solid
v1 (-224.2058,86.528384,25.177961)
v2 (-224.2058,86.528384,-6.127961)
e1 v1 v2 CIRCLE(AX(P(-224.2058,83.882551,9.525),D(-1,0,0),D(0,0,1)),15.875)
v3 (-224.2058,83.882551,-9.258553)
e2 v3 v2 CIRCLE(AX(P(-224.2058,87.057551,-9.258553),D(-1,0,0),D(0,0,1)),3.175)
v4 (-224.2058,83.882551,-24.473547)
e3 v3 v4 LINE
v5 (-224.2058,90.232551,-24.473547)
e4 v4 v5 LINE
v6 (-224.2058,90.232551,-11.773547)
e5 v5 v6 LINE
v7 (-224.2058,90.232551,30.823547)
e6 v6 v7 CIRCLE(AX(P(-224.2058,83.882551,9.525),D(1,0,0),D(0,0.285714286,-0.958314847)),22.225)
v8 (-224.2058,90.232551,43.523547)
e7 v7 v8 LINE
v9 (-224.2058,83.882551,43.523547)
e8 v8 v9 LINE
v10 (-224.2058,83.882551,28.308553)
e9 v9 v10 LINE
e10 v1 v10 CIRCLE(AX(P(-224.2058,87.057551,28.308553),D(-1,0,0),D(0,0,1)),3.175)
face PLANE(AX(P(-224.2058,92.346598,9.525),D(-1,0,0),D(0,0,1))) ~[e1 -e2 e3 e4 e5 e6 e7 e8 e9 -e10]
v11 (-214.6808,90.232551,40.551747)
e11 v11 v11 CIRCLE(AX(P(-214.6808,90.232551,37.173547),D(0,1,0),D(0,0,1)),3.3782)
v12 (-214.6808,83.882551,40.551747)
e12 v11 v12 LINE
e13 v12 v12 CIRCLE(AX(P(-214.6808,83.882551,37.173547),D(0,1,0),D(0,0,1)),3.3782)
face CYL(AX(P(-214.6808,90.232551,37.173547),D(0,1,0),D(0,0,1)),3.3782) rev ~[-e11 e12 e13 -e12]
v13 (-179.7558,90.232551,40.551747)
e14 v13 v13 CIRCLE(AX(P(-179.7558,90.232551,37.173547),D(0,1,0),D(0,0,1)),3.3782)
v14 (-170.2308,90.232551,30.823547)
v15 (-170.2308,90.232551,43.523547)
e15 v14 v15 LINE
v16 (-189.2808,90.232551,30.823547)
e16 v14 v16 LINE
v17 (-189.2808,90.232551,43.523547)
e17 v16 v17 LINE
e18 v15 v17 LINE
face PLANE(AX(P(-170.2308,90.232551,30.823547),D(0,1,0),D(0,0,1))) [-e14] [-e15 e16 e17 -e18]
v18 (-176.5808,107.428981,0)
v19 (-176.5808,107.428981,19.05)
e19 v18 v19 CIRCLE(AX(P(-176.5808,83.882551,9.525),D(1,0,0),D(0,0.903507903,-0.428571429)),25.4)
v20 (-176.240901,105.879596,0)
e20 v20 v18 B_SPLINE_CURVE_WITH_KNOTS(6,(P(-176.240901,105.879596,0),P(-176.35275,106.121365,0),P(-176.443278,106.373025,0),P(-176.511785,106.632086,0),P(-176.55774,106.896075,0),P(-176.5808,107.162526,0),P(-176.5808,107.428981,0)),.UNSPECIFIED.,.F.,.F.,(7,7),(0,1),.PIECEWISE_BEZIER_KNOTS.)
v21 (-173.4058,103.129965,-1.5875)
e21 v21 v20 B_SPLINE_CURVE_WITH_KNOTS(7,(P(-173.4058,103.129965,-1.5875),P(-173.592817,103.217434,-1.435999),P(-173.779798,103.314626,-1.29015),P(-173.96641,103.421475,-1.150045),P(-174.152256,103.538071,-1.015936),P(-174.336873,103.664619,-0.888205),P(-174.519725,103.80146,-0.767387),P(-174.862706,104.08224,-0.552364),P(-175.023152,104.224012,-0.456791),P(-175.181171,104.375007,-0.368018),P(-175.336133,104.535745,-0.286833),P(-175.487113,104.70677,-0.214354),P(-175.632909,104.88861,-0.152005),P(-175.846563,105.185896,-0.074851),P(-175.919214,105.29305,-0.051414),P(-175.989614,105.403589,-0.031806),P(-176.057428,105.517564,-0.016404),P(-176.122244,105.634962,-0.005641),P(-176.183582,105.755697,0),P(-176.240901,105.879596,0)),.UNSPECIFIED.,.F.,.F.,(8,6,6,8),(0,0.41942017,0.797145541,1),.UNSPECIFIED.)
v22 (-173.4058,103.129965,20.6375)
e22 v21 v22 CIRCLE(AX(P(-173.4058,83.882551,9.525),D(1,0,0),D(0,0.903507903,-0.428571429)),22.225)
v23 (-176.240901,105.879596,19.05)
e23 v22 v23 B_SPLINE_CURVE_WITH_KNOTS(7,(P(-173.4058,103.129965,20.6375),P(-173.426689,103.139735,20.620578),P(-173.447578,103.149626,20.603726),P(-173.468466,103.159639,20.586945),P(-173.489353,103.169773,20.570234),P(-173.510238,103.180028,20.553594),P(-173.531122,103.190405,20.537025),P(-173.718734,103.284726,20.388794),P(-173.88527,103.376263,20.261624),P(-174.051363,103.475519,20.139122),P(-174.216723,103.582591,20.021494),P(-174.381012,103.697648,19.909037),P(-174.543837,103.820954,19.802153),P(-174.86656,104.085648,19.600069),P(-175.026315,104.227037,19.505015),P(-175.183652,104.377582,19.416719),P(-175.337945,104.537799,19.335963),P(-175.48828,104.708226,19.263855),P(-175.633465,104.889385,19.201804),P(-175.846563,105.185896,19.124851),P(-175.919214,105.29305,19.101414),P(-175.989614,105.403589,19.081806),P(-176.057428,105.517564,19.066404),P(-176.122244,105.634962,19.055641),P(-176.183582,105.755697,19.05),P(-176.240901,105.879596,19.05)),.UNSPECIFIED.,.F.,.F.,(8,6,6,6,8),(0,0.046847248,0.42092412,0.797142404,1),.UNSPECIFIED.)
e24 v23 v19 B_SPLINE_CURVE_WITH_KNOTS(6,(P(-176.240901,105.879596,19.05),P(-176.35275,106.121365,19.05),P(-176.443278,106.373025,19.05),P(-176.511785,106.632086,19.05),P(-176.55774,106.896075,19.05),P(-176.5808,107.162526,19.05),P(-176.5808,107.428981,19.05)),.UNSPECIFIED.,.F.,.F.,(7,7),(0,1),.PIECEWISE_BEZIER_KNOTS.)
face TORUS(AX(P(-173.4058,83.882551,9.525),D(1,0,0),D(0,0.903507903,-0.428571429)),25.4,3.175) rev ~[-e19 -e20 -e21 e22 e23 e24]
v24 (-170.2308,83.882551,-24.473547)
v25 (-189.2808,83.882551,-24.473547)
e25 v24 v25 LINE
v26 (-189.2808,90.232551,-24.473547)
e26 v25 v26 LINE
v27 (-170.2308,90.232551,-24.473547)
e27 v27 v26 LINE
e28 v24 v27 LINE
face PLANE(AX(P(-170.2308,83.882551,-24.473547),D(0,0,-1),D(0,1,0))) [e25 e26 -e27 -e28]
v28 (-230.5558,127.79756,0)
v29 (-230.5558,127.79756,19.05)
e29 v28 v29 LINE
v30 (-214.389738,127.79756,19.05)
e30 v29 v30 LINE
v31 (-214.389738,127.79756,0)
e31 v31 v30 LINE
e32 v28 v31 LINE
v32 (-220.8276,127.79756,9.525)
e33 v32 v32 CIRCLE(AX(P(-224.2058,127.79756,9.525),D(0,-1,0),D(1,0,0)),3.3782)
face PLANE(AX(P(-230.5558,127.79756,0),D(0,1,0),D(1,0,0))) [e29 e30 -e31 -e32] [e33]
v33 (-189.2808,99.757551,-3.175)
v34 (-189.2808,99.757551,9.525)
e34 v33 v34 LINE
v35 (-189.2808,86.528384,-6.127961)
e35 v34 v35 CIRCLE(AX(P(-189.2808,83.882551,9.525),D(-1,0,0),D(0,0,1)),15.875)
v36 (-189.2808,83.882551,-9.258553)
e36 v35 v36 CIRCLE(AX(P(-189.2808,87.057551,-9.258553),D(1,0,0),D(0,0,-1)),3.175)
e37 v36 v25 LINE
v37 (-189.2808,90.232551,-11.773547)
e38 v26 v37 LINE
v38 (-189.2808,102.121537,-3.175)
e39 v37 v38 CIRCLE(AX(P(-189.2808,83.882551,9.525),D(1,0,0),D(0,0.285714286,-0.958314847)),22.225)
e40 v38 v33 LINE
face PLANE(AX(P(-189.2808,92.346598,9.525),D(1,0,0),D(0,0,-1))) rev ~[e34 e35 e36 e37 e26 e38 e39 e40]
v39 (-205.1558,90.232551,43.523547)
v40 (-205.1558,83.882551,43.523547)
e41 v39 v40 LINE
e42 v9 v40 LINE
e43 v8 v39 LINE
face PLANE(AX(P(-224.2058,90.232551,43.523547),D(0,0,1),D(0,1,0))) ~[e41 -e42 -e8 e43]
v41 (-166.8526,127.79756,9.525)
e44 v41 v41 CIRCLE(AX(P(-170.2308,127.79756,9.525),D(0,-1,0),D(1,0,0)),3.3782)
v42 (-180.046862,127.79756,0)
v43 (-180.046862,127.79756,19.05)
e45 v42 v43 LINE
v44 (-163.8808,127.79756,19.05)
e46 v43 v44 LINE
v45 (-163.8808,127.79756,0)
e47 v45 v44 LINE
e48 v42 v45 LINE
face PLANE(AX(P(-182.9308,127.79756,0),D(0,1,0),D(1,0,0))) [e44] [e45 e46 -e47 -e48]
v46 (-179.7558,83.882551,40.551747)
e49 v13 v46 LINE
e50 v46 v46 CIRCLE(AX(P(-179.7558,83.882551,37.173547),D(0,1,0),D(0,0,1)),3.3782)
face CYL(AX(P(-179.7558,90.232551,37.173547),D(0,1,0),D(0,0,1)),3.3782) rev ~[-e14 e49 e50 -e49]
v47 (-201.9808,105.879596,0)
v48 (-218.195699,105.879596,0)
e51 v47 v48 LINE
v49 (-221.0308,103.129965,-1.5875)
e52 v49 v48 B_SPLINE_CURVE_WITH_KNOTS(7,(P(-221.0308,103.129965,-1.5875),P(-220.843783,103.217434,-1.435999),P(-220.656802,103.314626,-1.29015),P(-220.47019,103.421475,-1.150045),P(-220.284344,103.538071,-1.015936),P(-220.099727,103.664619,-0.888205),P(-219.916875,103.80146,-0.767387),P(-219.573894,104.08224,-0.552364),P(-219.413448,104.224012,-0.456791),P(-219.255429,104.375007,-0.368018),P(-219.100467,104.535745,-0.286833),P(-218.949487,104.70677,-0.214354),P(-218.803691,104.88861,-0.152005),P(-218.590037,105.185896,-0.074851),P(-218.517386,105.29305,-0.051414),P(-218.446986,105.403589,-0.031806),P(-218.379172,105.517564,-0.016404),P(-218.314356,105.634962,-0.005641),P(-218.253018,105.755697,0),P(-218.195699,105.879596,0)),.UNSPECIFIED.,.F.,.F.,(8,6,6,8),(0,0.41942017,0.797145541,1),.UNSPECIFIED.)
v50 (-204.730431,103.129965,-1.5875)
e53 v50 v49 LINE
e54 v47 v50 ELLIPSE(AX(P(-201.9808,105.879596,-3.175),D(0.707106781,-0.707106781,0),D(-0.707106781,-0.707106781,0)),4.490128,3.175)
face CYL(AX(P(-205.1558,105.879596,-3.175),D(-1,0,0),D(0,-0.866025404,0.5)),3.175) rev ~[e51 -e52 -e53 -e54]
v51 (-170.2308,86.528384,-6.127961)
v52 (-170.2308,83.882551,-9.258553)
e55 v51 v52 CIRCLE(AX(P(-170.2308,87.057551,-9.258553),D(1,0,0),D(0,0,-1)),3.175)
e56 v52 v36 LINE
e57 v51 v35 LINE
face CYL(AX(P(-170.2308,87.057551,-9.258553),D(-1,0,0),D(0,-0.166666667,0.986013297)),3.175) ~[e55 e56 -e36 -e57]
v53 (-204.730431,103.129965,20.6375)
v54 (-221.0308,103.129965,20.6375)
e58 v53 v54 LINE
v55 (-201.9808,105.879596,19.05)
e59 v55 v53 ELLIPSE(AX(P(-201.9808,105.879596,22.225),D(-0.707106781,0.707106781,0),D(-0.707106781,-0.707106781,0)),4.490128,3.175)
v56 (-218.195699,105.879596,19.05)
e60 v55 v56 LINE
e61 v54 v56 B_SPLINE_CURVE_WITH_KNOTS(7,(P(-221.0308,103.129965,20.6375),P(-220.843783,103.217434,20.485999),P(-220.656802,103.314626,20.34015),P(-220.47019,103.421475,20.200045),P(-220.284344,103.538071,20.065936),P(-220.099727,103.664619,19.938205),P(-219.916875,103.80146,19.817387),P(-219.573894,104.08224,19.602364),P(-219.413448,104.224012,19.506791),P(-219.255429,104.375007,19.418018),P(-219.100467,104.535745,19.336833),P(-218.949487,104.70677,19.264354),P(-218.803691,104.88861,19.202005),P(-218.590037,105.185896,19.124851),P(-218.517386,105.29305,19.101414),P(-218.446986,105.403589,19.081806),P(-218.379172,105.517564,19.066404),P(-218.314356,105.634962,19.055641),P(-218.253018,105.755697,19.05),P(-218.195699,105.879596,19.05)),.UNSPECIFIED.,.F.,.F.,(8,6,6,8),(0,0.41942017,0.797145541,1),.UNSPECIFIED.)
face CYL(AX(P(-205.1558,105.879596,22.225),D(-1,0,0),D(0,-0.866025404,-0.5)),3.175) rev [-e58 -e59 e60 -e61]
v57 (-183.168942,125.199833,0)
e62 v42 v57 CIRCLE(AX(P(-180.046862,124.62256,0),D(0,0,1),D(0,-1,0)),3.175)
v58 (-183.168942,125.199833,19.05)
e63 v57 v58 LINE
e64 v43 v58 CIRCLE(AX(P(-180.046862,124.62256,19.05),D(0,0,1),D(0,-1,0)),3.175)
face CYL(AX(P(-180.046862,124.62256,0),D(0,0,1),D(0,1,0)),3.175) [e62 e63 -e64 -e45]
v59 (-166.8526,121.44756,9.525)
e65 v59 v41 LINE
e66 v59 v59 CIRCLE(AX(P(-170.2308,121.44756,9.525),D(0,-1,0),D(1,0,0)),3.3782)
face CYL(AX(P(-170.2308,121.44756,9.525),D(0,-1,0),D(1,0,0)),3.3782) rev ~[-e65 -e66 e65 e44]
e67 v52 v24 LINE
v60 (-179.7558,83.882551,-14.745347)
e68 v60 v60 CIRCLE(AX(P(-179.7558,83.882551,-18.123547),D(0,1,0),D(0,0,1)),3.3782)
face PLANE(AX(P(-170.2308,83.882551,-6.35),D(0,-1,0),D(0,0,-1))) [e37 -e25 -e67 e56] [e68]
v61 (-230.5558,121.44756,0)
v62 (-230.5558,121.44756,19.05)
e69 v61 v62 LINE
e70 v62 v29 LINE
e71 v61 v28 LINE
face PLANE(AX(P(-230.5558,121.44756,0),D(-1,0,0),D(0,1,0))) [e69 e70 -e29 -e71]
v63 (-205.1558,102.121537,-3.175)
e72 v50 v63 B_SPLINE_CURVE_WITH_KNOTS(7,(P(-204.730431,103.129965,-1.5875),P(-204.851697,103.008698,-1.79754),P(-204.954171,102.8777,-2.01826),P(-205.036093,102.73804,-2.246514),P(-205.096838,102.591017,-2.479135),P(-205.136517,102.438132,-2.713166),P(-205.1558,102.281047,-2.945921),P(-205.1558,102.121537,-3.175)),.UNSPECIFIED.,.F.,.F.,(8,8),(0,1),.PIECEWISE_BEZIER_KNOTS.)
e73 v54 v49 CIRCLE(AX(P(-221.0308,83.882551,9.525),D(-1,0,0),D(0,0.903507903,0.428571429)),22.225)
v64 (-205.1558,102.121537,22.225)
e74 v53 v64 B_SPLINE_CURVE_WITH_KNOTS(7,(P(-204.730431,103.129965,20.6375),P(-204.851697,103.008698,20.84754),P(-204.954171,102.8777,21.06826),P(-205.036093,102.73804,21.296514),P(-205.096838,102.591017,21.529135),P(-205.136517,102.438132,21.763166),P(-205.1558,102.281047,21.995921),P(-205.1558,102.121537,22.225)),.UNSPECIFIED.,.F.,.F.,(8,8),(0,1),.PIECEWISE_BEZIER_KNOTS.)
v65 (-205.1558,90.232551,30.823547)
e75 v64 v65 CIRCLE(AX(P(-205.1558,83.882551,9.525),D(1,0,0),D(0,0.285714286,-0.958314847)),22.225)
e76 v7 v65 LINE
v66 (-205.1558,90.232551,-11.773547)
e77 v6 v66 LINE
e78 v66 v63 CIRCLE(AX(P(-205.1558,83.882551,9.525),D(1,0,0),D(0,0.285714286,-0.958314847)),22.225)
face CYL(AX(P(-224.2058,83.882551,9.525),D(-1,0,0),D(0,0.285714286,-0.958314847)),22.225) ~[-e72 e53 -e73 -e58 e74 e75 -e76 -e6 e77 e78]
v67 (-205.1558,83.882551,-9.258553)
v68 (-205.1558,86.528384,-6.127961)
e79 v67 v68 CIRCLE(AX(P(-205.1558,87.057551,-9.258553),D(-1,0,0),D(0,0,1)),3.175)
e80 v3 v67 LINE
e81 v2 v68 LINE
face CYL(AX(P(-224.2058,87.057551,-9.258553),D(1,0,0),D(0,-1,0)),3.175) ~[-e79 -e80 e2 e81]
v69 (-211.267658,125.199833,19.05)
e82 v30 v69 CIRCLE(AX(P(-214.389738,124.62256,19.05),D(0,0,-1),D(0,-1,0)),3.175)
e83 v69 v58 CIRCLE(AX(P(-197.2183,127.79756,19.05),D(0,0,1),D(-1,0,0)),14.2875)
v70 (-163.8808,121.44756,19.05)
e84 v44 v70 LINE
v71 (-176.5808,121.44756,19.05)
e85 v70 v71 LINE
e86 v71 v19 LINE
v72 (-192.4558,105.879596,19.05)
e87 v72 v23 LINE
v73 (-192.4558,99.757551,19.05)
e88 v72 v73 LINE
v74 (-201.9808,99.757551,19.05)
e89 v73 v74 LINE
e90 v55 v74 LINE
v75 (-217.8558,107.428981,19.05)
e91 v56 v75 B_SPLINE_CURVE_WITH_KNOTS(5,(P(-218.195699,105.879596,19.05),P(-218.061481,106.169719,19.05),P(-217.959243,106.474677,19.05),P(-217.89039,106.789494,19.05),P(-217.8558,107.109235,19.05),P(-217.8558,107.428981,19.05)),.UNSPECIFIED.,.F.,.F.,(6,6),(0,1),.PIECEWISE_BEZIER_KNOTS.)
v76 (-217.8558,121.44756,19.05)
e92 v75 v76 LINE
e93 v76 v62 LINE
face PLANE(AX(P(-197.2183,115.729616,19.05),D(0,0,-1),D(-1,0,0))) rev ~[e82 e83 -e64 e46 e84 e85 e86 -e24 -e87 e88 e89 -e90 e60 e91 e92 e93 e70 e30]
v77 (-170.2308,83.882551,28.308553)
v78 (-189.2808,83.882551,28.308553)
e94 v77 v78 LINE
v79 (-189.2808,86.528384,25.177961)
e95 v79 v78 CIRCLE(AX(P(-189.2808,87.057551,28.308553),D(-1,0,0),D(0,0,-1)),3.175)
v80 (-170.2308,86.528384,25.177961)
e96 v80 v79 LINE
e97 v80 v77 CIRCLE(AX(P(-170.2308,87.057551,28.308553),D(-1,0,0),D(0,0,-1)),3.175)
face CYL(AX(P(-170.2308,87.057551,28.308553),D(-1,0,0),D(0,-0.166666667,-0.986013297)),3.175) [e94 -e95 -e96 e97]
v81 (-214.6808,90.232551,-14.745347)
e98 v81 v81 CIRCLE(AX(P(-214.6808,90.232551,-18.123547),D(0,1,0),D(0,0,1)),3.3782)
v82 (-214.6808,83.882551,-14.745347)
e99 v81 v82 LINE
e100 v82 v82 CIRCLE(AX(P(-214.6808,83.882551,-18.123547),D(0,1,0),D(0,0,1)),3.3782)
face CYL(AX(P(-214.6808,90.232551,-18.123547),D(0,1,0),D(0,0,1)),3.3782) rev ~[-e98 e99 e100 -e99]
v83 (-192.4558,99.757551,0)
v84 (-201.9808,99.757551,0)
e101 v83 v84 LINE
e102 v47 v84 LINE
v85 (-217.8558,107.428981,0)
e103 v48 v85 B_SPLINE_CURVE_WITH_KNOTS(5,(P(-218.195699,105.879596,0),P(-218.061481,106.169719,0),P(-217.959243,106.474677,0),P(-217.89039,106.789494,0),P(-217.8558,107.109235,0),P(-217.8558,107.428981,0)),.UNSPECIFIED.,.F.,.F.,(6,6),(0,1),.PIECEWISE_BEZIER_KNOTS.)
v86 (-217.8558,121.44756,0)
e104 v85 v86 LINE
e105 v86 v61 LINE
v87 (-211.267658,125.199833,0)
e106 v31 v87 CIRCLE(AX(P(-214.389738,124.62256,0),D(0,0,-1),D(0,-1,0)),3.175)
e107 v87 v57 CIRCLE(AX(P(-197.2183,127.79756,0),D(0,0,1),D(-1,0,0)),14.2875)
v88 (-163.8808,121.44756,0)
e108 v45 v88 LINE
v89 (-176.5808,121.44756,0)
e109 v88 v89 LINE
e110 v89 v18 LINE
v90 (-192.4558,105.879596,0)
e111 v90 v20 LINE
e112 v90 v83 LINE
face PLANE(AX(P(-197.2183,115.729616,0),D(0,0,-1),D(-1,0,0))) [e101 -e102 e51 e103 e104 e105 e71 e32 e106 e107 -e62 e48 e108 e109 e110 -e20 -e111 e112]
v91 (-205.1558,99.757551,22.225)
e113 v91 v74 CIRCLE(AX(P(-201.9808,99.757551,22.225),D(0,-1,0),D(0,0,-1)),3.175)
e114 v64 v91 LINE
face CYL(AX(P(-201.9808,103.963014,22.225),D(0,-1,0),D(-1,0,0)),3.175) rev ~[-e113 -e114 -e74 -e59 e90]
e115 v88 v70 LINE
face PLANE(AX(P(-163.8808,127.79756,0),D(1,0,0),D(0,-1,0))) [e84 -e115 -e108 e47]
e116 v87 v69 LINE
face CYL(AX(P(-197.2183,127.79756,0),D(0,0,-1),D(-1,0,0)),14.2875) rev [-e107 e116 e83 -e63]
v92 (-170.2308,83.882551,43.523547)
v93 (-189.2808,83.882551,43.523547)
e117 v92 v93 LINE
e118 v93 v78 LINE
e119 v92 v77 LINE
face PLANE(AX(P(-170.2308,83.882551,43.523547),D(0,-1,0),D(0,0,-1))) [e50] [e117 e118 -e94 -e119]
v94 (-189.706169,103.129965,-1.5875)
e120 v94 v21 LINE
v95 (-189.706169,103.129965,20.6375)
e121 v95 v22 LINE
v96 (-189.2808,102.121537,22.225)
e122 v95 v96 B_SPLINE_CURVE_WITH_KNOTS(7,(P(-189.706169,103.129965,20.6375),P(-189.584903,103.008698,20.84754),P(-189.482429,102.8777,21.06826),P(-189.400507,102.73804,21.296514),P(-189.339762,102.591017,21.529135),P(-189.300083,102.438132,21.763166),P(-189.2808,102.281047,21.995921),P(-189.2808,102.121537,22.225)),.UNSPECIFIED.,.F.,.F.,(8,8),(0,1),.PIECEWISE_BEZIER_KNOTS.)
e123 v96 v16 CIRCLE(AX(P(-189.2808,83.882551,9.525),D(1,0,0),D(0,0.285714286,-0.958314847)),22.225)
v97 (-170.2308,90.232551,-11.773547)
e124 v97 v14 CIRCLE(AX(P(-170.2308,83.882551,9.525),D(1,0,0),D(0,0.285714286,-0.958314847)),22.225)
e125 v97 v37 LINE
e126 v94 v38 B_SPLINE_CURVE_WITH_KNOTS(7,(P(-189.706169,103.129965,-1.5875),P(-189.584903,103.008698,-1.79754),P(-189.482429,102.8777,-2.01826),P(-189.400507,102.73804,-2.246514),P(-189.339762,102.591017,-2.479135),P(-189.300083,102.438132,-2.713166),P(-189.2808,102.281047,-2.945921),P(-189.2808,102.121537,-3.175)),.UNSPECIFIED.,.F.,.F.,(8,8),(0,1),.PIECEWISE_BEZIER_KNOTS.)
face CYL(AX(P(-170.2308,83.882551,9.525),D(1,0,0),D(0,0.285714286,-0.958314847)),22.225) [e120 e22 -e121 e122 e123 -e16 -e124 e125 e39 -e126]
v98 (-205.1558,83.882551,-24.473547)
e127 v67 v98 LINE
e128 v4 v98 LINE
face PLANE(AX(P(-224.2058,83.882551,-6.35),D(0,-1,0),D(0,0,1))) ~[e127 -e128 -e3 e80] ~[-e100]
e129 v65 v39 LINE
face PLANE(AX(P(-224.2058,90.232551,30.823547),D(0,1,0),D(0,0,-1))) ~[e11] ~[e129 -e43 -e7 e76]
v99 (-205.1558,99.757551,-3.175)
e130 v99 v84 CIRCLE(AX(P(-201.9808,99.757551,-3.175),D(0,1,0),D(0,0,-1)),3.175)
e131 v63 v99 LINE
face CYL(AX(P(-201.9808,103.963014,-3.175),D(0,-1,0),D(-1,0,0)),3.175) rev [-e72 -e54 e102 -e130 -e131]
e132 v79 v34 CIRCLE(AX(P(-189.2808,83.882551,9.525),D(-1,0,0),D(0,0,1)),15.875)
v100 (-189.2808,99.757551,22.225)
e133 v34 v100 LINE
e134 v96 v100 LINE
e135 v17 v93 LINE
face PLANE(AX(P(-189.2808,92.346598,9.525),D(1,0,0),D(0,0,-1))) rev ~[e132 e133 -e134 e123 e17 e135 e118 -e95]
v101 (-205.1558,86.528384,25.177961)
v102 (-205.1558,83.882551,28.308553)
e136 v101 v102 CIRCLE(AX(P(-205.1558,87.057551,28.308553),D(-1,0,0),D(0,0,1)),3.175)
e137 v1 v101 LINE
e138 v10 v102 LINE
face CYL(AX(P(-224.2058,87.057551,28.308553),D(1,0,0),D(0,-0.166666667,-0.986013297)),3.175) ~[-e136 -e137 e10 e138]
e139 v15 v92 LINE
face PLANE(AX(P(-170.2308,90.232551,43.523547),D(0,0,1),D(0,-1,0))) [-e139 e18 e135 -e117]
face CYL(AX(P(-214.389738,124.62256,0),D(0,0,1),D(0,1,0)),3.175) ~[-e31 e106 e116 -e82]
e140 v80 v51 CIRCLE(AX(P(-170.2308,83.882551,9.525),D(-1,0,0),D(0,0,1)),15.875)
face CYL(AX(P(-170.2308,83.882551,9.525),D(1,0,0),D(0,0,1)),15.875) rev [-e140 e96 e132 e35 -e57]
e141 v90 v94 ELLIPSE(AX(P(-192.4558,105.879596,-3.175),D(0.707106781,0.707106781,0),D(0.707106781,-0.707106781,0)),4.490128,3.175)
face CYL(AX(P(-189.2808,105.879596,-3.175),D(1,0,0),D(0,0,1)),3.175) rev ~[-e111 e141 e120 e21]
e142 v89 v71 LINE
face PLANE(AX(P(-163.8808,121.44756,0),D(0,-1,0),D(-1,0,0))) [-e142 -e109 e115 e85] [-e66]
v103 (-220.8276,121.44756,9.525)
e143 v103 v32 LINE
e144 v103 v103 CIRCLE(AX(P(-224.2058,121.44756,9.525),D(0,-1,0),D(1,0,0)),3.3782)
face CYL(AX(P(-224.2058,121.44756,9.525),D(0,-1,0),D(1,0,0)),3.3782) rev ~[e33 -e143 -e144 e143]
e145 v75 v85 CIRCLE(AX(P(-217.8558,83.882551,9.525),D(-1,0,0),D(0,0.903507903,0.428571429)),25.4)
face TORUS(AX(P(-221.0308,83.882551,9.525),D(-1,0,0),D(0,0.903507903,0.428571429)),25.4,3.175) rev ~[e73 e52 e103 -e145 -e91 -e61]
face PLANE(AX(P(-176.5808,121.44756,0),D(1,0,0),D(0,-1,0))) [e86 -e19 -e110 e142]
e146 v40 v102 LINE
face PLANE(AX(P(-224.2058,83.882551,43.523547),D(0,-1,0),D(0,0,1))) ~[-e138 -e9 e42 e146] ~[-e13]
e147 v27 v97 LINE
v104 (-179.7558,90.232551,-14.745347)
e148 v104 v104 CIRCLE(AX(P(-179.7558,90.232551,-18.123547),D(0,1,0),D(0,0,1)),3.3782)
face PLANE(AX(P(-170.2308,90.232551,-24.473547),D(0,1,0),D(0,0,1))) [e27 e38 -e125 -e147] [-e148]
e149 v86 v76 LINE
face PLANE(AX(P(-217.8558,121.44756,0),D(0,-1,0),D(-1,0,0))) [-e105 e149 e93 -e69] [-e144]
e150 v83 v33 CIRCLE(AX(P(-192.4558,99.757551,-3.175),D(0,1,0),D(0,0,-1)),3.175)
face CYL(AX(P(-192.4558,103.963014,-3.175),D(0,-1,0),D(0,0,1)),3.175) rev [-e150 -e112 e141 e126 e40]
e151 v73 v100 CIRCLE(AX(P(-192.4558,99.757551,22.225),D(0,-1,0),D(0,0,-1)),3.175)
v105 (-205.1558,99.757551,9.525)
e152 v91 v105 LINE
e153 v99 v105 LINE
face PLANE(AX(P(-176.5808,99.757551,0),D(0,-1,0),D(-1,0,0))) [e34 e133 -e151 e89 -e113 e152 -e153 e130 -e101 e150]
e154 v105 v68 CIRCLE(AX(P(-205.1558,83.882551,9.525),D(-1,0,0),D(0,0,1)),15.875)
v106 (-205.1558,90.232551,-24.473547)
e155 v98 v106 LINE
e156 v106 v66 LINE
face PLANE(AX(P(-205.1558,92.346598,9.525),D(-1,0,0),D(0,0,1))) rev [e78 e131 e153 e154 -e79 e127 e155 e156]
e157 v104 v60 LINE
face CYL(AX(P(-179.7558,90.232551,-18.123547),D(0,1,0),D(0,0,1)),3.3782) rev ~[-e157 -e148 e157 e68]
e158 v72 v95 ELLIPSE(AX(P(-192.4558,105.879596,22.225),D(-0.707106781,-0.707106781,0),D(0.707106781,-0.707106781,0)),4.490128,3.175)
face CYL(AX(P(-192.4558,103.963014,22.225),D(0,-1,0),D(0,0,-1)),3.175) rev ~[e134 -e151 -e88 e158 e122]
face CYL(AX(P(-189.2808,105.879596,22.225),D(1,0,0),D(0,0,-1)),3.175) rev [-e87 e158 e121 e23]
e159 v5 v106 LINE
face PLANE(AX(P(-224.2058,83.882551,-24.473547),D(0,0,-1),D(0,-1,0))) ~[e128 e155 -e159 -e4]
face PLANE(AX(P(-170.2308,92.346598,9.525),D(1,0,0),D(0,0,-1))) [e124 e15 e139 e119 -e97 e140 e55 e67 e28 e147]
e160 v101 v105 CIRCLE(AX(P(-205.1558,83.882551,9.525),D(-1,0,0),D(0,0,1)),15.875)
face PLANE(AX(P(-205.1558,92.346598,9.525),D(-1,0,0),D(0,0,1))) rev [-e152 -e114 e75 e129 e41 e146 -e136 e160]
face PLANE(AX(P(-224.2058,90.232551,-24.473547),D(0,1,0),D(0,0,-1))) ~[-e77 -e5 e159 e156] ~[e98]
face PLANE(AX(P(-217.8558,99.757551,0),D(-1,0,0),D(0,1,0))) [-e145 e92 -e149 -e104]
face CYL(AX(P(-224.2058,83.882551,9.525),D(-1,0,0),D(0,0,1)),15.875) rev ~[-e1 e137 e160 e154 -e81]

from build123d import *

# Parameters (mm, degrees)
BOSS_EXTRUDE1_DEPTH = 19.05
SKETCH7_R           = 3.3782
CUT_EXTRUDE3_DEPTH  = 233.356054205
BOSS_EXTRUDE3_START = -6.35
BOSS_EXTRUDE3_DEPTH = 19.05
SKETCH11_R          = 3.3782
CUT_EXTRUDE4_DEPTH  = 238.616089602
FILLET4_R           = 3.175


with BuildPart() as part:
    # Sketch1 → Boss-Extrude1 (new body)
    with BuildSketch(Plane.XY):
        with BuildLine():
            Line((-182.9308, 127.79756), (-163.8808, 127.79756))
            Line((-163.8808, 127.79756), (-163.8808, 121.44756))
            Line((-163.8808, 121.44756), (-176.5808, 121.44756))
            Line((-176.5808, 121.44756), (-176.5808, 99.757550505))
            Line((-176.5808, 99.757550505), (-217.8558, 99.757550505))
            Line((-217.8558, 99.757550505), (-217.8558, 121.44756))
            Line((-217.8558, 121.44756), (-230.5558, 121.44756))
            Line((-230.5558, 121.44756), (-230.5558, 127.79756))
            Line((-230.5558, 127.79756), (-211.5058, 127.79756))
            ThreePointArc((-211.5058, 127.79756), (-197.2183, 113.51006), (-182.9308, 127.79756))
        make_face()
    extrude(amount=BOSS_EXTRUDE1_DEPTH)

    # Sketch7 → Cut-Extrude3 (cut, through all)
    with BuildSketch(Plane.XZ.offset(-121.44756)):
        with Locations((-170.2308, 9.525)):
            Circle(SKETCH7_R)
        with Locations((-224.2058, 9.525)):
            Circle(SKETCH7_R)
    extrude(amount=-CUT_EXTRUDE3_DEPTH, mode=Mode.SUBTRACT)

    # Sketch10 → Boss-Extrude3 (add)
    with BuildSketch(Plane(origin=(-163.8808, 0, 0), x_dir=(0, 0, -1), z_dir=(1, 0, 0)).offset(BOSS_EXTRUDE3_START)):
        with BuildLine():
            Line((6.35, 83.882550505), (24.473547486, 83.882550505))
            Line((24.473547486, 83.882550505), (24.473547486, 90.232550505))
            Line((24.473547486, 90.232550505), (11.773547486, 90.232550505))
            ThreePointArc((11.773547486, 90.232550505), (-9.525, 106.107550505), (-30.823547486, 90.232550505))
            Line((-30.823547486, 90.232550505), (-43.523547486, 90.232550505))
            Line((-43.523547486, 90.232550505), (-43.523547486, 83.882550505))
            Line((-43.523547486, 83.882550505), (-25.4, 83.882550505))
            ThreePointArc((-25.4, 83.882550505), (-9.525, 99.757550505), (6.35, 83.882550505))
        make_face()
    boss_extrude3 = extrude(amount=-BOSS_EXTRUDE3_DEPTH)

    # Mirror3: Boss-Extrude3 across plane
    add(boss_extrude3.mirror(Plane(origin=(-197.2183, 0, 0), x_dir=(0, 0, 1), z_dir=(1, 0, 0))))

    # Sketch11 → Cut-Extrude4 (cut, through all)
    with BuildSketch(Plane(origin=(0, 90.232550505, 0), x_dir=(1, 0, 0), z_dir=(0, 1, 0))):
        with Locations(Location((-179.7558, -37.173547486, 0), (0, 0, 270))):
            Circle(SKETCH11_R)
        with Locations(Location((-179.7558, 18.123547486, 0), (0, 0, 270))):
            Circle(SKETCH11_R)
        with Locations(Location((-214.6808, 18.123547486, 0), (0, 0, 270))):
            Circle(SKETCH11_R)
        with Locations(Location((-214.6808, -37.173547486, 0), (0, 0, 270))):
            Circle(SKETCH11_R)
    extrude(amount=-CUT_EXTRUDE4_DEPTH, mode=Mode.SUBTRACT)

    # Fillet4
    fillet4_edges = [part.edges().sort_by_distance(p)[0] for p in [
        (-182.9308, 127.79756, 9.525),
        (-211.5058, 127.79756, 9.525),
        (-189.2808, 101.860282076, 0),
        (-182.9308, 103.963013647, 0),
        (-189.2808, 101.860282076, 19.05),
        (-179.7558, 83.882550505, -6.35),
        (-179.7558, 83.882550505, 25.4),
        (-182.9308, 103.963013647, 19.05),
        (-176.5808, 106.107550505, 9.525),
        (-205.1558, 101.860282076, 0),
        (-211.5058, 103.963013647, 0),
        (-211.5058, 103.963013647, 19.05),
        (-217.8558, 106.107550505, 9.525),
        (-205.1558, 101.860282076, 19.05),
        (-214.6808, 83.882550505, 25.4),
        (-214.6808, 83.882550505, -6.35),
    ]]
    fillet(fillet4_edges, radius=FILLET4_R)


solid = part.part
